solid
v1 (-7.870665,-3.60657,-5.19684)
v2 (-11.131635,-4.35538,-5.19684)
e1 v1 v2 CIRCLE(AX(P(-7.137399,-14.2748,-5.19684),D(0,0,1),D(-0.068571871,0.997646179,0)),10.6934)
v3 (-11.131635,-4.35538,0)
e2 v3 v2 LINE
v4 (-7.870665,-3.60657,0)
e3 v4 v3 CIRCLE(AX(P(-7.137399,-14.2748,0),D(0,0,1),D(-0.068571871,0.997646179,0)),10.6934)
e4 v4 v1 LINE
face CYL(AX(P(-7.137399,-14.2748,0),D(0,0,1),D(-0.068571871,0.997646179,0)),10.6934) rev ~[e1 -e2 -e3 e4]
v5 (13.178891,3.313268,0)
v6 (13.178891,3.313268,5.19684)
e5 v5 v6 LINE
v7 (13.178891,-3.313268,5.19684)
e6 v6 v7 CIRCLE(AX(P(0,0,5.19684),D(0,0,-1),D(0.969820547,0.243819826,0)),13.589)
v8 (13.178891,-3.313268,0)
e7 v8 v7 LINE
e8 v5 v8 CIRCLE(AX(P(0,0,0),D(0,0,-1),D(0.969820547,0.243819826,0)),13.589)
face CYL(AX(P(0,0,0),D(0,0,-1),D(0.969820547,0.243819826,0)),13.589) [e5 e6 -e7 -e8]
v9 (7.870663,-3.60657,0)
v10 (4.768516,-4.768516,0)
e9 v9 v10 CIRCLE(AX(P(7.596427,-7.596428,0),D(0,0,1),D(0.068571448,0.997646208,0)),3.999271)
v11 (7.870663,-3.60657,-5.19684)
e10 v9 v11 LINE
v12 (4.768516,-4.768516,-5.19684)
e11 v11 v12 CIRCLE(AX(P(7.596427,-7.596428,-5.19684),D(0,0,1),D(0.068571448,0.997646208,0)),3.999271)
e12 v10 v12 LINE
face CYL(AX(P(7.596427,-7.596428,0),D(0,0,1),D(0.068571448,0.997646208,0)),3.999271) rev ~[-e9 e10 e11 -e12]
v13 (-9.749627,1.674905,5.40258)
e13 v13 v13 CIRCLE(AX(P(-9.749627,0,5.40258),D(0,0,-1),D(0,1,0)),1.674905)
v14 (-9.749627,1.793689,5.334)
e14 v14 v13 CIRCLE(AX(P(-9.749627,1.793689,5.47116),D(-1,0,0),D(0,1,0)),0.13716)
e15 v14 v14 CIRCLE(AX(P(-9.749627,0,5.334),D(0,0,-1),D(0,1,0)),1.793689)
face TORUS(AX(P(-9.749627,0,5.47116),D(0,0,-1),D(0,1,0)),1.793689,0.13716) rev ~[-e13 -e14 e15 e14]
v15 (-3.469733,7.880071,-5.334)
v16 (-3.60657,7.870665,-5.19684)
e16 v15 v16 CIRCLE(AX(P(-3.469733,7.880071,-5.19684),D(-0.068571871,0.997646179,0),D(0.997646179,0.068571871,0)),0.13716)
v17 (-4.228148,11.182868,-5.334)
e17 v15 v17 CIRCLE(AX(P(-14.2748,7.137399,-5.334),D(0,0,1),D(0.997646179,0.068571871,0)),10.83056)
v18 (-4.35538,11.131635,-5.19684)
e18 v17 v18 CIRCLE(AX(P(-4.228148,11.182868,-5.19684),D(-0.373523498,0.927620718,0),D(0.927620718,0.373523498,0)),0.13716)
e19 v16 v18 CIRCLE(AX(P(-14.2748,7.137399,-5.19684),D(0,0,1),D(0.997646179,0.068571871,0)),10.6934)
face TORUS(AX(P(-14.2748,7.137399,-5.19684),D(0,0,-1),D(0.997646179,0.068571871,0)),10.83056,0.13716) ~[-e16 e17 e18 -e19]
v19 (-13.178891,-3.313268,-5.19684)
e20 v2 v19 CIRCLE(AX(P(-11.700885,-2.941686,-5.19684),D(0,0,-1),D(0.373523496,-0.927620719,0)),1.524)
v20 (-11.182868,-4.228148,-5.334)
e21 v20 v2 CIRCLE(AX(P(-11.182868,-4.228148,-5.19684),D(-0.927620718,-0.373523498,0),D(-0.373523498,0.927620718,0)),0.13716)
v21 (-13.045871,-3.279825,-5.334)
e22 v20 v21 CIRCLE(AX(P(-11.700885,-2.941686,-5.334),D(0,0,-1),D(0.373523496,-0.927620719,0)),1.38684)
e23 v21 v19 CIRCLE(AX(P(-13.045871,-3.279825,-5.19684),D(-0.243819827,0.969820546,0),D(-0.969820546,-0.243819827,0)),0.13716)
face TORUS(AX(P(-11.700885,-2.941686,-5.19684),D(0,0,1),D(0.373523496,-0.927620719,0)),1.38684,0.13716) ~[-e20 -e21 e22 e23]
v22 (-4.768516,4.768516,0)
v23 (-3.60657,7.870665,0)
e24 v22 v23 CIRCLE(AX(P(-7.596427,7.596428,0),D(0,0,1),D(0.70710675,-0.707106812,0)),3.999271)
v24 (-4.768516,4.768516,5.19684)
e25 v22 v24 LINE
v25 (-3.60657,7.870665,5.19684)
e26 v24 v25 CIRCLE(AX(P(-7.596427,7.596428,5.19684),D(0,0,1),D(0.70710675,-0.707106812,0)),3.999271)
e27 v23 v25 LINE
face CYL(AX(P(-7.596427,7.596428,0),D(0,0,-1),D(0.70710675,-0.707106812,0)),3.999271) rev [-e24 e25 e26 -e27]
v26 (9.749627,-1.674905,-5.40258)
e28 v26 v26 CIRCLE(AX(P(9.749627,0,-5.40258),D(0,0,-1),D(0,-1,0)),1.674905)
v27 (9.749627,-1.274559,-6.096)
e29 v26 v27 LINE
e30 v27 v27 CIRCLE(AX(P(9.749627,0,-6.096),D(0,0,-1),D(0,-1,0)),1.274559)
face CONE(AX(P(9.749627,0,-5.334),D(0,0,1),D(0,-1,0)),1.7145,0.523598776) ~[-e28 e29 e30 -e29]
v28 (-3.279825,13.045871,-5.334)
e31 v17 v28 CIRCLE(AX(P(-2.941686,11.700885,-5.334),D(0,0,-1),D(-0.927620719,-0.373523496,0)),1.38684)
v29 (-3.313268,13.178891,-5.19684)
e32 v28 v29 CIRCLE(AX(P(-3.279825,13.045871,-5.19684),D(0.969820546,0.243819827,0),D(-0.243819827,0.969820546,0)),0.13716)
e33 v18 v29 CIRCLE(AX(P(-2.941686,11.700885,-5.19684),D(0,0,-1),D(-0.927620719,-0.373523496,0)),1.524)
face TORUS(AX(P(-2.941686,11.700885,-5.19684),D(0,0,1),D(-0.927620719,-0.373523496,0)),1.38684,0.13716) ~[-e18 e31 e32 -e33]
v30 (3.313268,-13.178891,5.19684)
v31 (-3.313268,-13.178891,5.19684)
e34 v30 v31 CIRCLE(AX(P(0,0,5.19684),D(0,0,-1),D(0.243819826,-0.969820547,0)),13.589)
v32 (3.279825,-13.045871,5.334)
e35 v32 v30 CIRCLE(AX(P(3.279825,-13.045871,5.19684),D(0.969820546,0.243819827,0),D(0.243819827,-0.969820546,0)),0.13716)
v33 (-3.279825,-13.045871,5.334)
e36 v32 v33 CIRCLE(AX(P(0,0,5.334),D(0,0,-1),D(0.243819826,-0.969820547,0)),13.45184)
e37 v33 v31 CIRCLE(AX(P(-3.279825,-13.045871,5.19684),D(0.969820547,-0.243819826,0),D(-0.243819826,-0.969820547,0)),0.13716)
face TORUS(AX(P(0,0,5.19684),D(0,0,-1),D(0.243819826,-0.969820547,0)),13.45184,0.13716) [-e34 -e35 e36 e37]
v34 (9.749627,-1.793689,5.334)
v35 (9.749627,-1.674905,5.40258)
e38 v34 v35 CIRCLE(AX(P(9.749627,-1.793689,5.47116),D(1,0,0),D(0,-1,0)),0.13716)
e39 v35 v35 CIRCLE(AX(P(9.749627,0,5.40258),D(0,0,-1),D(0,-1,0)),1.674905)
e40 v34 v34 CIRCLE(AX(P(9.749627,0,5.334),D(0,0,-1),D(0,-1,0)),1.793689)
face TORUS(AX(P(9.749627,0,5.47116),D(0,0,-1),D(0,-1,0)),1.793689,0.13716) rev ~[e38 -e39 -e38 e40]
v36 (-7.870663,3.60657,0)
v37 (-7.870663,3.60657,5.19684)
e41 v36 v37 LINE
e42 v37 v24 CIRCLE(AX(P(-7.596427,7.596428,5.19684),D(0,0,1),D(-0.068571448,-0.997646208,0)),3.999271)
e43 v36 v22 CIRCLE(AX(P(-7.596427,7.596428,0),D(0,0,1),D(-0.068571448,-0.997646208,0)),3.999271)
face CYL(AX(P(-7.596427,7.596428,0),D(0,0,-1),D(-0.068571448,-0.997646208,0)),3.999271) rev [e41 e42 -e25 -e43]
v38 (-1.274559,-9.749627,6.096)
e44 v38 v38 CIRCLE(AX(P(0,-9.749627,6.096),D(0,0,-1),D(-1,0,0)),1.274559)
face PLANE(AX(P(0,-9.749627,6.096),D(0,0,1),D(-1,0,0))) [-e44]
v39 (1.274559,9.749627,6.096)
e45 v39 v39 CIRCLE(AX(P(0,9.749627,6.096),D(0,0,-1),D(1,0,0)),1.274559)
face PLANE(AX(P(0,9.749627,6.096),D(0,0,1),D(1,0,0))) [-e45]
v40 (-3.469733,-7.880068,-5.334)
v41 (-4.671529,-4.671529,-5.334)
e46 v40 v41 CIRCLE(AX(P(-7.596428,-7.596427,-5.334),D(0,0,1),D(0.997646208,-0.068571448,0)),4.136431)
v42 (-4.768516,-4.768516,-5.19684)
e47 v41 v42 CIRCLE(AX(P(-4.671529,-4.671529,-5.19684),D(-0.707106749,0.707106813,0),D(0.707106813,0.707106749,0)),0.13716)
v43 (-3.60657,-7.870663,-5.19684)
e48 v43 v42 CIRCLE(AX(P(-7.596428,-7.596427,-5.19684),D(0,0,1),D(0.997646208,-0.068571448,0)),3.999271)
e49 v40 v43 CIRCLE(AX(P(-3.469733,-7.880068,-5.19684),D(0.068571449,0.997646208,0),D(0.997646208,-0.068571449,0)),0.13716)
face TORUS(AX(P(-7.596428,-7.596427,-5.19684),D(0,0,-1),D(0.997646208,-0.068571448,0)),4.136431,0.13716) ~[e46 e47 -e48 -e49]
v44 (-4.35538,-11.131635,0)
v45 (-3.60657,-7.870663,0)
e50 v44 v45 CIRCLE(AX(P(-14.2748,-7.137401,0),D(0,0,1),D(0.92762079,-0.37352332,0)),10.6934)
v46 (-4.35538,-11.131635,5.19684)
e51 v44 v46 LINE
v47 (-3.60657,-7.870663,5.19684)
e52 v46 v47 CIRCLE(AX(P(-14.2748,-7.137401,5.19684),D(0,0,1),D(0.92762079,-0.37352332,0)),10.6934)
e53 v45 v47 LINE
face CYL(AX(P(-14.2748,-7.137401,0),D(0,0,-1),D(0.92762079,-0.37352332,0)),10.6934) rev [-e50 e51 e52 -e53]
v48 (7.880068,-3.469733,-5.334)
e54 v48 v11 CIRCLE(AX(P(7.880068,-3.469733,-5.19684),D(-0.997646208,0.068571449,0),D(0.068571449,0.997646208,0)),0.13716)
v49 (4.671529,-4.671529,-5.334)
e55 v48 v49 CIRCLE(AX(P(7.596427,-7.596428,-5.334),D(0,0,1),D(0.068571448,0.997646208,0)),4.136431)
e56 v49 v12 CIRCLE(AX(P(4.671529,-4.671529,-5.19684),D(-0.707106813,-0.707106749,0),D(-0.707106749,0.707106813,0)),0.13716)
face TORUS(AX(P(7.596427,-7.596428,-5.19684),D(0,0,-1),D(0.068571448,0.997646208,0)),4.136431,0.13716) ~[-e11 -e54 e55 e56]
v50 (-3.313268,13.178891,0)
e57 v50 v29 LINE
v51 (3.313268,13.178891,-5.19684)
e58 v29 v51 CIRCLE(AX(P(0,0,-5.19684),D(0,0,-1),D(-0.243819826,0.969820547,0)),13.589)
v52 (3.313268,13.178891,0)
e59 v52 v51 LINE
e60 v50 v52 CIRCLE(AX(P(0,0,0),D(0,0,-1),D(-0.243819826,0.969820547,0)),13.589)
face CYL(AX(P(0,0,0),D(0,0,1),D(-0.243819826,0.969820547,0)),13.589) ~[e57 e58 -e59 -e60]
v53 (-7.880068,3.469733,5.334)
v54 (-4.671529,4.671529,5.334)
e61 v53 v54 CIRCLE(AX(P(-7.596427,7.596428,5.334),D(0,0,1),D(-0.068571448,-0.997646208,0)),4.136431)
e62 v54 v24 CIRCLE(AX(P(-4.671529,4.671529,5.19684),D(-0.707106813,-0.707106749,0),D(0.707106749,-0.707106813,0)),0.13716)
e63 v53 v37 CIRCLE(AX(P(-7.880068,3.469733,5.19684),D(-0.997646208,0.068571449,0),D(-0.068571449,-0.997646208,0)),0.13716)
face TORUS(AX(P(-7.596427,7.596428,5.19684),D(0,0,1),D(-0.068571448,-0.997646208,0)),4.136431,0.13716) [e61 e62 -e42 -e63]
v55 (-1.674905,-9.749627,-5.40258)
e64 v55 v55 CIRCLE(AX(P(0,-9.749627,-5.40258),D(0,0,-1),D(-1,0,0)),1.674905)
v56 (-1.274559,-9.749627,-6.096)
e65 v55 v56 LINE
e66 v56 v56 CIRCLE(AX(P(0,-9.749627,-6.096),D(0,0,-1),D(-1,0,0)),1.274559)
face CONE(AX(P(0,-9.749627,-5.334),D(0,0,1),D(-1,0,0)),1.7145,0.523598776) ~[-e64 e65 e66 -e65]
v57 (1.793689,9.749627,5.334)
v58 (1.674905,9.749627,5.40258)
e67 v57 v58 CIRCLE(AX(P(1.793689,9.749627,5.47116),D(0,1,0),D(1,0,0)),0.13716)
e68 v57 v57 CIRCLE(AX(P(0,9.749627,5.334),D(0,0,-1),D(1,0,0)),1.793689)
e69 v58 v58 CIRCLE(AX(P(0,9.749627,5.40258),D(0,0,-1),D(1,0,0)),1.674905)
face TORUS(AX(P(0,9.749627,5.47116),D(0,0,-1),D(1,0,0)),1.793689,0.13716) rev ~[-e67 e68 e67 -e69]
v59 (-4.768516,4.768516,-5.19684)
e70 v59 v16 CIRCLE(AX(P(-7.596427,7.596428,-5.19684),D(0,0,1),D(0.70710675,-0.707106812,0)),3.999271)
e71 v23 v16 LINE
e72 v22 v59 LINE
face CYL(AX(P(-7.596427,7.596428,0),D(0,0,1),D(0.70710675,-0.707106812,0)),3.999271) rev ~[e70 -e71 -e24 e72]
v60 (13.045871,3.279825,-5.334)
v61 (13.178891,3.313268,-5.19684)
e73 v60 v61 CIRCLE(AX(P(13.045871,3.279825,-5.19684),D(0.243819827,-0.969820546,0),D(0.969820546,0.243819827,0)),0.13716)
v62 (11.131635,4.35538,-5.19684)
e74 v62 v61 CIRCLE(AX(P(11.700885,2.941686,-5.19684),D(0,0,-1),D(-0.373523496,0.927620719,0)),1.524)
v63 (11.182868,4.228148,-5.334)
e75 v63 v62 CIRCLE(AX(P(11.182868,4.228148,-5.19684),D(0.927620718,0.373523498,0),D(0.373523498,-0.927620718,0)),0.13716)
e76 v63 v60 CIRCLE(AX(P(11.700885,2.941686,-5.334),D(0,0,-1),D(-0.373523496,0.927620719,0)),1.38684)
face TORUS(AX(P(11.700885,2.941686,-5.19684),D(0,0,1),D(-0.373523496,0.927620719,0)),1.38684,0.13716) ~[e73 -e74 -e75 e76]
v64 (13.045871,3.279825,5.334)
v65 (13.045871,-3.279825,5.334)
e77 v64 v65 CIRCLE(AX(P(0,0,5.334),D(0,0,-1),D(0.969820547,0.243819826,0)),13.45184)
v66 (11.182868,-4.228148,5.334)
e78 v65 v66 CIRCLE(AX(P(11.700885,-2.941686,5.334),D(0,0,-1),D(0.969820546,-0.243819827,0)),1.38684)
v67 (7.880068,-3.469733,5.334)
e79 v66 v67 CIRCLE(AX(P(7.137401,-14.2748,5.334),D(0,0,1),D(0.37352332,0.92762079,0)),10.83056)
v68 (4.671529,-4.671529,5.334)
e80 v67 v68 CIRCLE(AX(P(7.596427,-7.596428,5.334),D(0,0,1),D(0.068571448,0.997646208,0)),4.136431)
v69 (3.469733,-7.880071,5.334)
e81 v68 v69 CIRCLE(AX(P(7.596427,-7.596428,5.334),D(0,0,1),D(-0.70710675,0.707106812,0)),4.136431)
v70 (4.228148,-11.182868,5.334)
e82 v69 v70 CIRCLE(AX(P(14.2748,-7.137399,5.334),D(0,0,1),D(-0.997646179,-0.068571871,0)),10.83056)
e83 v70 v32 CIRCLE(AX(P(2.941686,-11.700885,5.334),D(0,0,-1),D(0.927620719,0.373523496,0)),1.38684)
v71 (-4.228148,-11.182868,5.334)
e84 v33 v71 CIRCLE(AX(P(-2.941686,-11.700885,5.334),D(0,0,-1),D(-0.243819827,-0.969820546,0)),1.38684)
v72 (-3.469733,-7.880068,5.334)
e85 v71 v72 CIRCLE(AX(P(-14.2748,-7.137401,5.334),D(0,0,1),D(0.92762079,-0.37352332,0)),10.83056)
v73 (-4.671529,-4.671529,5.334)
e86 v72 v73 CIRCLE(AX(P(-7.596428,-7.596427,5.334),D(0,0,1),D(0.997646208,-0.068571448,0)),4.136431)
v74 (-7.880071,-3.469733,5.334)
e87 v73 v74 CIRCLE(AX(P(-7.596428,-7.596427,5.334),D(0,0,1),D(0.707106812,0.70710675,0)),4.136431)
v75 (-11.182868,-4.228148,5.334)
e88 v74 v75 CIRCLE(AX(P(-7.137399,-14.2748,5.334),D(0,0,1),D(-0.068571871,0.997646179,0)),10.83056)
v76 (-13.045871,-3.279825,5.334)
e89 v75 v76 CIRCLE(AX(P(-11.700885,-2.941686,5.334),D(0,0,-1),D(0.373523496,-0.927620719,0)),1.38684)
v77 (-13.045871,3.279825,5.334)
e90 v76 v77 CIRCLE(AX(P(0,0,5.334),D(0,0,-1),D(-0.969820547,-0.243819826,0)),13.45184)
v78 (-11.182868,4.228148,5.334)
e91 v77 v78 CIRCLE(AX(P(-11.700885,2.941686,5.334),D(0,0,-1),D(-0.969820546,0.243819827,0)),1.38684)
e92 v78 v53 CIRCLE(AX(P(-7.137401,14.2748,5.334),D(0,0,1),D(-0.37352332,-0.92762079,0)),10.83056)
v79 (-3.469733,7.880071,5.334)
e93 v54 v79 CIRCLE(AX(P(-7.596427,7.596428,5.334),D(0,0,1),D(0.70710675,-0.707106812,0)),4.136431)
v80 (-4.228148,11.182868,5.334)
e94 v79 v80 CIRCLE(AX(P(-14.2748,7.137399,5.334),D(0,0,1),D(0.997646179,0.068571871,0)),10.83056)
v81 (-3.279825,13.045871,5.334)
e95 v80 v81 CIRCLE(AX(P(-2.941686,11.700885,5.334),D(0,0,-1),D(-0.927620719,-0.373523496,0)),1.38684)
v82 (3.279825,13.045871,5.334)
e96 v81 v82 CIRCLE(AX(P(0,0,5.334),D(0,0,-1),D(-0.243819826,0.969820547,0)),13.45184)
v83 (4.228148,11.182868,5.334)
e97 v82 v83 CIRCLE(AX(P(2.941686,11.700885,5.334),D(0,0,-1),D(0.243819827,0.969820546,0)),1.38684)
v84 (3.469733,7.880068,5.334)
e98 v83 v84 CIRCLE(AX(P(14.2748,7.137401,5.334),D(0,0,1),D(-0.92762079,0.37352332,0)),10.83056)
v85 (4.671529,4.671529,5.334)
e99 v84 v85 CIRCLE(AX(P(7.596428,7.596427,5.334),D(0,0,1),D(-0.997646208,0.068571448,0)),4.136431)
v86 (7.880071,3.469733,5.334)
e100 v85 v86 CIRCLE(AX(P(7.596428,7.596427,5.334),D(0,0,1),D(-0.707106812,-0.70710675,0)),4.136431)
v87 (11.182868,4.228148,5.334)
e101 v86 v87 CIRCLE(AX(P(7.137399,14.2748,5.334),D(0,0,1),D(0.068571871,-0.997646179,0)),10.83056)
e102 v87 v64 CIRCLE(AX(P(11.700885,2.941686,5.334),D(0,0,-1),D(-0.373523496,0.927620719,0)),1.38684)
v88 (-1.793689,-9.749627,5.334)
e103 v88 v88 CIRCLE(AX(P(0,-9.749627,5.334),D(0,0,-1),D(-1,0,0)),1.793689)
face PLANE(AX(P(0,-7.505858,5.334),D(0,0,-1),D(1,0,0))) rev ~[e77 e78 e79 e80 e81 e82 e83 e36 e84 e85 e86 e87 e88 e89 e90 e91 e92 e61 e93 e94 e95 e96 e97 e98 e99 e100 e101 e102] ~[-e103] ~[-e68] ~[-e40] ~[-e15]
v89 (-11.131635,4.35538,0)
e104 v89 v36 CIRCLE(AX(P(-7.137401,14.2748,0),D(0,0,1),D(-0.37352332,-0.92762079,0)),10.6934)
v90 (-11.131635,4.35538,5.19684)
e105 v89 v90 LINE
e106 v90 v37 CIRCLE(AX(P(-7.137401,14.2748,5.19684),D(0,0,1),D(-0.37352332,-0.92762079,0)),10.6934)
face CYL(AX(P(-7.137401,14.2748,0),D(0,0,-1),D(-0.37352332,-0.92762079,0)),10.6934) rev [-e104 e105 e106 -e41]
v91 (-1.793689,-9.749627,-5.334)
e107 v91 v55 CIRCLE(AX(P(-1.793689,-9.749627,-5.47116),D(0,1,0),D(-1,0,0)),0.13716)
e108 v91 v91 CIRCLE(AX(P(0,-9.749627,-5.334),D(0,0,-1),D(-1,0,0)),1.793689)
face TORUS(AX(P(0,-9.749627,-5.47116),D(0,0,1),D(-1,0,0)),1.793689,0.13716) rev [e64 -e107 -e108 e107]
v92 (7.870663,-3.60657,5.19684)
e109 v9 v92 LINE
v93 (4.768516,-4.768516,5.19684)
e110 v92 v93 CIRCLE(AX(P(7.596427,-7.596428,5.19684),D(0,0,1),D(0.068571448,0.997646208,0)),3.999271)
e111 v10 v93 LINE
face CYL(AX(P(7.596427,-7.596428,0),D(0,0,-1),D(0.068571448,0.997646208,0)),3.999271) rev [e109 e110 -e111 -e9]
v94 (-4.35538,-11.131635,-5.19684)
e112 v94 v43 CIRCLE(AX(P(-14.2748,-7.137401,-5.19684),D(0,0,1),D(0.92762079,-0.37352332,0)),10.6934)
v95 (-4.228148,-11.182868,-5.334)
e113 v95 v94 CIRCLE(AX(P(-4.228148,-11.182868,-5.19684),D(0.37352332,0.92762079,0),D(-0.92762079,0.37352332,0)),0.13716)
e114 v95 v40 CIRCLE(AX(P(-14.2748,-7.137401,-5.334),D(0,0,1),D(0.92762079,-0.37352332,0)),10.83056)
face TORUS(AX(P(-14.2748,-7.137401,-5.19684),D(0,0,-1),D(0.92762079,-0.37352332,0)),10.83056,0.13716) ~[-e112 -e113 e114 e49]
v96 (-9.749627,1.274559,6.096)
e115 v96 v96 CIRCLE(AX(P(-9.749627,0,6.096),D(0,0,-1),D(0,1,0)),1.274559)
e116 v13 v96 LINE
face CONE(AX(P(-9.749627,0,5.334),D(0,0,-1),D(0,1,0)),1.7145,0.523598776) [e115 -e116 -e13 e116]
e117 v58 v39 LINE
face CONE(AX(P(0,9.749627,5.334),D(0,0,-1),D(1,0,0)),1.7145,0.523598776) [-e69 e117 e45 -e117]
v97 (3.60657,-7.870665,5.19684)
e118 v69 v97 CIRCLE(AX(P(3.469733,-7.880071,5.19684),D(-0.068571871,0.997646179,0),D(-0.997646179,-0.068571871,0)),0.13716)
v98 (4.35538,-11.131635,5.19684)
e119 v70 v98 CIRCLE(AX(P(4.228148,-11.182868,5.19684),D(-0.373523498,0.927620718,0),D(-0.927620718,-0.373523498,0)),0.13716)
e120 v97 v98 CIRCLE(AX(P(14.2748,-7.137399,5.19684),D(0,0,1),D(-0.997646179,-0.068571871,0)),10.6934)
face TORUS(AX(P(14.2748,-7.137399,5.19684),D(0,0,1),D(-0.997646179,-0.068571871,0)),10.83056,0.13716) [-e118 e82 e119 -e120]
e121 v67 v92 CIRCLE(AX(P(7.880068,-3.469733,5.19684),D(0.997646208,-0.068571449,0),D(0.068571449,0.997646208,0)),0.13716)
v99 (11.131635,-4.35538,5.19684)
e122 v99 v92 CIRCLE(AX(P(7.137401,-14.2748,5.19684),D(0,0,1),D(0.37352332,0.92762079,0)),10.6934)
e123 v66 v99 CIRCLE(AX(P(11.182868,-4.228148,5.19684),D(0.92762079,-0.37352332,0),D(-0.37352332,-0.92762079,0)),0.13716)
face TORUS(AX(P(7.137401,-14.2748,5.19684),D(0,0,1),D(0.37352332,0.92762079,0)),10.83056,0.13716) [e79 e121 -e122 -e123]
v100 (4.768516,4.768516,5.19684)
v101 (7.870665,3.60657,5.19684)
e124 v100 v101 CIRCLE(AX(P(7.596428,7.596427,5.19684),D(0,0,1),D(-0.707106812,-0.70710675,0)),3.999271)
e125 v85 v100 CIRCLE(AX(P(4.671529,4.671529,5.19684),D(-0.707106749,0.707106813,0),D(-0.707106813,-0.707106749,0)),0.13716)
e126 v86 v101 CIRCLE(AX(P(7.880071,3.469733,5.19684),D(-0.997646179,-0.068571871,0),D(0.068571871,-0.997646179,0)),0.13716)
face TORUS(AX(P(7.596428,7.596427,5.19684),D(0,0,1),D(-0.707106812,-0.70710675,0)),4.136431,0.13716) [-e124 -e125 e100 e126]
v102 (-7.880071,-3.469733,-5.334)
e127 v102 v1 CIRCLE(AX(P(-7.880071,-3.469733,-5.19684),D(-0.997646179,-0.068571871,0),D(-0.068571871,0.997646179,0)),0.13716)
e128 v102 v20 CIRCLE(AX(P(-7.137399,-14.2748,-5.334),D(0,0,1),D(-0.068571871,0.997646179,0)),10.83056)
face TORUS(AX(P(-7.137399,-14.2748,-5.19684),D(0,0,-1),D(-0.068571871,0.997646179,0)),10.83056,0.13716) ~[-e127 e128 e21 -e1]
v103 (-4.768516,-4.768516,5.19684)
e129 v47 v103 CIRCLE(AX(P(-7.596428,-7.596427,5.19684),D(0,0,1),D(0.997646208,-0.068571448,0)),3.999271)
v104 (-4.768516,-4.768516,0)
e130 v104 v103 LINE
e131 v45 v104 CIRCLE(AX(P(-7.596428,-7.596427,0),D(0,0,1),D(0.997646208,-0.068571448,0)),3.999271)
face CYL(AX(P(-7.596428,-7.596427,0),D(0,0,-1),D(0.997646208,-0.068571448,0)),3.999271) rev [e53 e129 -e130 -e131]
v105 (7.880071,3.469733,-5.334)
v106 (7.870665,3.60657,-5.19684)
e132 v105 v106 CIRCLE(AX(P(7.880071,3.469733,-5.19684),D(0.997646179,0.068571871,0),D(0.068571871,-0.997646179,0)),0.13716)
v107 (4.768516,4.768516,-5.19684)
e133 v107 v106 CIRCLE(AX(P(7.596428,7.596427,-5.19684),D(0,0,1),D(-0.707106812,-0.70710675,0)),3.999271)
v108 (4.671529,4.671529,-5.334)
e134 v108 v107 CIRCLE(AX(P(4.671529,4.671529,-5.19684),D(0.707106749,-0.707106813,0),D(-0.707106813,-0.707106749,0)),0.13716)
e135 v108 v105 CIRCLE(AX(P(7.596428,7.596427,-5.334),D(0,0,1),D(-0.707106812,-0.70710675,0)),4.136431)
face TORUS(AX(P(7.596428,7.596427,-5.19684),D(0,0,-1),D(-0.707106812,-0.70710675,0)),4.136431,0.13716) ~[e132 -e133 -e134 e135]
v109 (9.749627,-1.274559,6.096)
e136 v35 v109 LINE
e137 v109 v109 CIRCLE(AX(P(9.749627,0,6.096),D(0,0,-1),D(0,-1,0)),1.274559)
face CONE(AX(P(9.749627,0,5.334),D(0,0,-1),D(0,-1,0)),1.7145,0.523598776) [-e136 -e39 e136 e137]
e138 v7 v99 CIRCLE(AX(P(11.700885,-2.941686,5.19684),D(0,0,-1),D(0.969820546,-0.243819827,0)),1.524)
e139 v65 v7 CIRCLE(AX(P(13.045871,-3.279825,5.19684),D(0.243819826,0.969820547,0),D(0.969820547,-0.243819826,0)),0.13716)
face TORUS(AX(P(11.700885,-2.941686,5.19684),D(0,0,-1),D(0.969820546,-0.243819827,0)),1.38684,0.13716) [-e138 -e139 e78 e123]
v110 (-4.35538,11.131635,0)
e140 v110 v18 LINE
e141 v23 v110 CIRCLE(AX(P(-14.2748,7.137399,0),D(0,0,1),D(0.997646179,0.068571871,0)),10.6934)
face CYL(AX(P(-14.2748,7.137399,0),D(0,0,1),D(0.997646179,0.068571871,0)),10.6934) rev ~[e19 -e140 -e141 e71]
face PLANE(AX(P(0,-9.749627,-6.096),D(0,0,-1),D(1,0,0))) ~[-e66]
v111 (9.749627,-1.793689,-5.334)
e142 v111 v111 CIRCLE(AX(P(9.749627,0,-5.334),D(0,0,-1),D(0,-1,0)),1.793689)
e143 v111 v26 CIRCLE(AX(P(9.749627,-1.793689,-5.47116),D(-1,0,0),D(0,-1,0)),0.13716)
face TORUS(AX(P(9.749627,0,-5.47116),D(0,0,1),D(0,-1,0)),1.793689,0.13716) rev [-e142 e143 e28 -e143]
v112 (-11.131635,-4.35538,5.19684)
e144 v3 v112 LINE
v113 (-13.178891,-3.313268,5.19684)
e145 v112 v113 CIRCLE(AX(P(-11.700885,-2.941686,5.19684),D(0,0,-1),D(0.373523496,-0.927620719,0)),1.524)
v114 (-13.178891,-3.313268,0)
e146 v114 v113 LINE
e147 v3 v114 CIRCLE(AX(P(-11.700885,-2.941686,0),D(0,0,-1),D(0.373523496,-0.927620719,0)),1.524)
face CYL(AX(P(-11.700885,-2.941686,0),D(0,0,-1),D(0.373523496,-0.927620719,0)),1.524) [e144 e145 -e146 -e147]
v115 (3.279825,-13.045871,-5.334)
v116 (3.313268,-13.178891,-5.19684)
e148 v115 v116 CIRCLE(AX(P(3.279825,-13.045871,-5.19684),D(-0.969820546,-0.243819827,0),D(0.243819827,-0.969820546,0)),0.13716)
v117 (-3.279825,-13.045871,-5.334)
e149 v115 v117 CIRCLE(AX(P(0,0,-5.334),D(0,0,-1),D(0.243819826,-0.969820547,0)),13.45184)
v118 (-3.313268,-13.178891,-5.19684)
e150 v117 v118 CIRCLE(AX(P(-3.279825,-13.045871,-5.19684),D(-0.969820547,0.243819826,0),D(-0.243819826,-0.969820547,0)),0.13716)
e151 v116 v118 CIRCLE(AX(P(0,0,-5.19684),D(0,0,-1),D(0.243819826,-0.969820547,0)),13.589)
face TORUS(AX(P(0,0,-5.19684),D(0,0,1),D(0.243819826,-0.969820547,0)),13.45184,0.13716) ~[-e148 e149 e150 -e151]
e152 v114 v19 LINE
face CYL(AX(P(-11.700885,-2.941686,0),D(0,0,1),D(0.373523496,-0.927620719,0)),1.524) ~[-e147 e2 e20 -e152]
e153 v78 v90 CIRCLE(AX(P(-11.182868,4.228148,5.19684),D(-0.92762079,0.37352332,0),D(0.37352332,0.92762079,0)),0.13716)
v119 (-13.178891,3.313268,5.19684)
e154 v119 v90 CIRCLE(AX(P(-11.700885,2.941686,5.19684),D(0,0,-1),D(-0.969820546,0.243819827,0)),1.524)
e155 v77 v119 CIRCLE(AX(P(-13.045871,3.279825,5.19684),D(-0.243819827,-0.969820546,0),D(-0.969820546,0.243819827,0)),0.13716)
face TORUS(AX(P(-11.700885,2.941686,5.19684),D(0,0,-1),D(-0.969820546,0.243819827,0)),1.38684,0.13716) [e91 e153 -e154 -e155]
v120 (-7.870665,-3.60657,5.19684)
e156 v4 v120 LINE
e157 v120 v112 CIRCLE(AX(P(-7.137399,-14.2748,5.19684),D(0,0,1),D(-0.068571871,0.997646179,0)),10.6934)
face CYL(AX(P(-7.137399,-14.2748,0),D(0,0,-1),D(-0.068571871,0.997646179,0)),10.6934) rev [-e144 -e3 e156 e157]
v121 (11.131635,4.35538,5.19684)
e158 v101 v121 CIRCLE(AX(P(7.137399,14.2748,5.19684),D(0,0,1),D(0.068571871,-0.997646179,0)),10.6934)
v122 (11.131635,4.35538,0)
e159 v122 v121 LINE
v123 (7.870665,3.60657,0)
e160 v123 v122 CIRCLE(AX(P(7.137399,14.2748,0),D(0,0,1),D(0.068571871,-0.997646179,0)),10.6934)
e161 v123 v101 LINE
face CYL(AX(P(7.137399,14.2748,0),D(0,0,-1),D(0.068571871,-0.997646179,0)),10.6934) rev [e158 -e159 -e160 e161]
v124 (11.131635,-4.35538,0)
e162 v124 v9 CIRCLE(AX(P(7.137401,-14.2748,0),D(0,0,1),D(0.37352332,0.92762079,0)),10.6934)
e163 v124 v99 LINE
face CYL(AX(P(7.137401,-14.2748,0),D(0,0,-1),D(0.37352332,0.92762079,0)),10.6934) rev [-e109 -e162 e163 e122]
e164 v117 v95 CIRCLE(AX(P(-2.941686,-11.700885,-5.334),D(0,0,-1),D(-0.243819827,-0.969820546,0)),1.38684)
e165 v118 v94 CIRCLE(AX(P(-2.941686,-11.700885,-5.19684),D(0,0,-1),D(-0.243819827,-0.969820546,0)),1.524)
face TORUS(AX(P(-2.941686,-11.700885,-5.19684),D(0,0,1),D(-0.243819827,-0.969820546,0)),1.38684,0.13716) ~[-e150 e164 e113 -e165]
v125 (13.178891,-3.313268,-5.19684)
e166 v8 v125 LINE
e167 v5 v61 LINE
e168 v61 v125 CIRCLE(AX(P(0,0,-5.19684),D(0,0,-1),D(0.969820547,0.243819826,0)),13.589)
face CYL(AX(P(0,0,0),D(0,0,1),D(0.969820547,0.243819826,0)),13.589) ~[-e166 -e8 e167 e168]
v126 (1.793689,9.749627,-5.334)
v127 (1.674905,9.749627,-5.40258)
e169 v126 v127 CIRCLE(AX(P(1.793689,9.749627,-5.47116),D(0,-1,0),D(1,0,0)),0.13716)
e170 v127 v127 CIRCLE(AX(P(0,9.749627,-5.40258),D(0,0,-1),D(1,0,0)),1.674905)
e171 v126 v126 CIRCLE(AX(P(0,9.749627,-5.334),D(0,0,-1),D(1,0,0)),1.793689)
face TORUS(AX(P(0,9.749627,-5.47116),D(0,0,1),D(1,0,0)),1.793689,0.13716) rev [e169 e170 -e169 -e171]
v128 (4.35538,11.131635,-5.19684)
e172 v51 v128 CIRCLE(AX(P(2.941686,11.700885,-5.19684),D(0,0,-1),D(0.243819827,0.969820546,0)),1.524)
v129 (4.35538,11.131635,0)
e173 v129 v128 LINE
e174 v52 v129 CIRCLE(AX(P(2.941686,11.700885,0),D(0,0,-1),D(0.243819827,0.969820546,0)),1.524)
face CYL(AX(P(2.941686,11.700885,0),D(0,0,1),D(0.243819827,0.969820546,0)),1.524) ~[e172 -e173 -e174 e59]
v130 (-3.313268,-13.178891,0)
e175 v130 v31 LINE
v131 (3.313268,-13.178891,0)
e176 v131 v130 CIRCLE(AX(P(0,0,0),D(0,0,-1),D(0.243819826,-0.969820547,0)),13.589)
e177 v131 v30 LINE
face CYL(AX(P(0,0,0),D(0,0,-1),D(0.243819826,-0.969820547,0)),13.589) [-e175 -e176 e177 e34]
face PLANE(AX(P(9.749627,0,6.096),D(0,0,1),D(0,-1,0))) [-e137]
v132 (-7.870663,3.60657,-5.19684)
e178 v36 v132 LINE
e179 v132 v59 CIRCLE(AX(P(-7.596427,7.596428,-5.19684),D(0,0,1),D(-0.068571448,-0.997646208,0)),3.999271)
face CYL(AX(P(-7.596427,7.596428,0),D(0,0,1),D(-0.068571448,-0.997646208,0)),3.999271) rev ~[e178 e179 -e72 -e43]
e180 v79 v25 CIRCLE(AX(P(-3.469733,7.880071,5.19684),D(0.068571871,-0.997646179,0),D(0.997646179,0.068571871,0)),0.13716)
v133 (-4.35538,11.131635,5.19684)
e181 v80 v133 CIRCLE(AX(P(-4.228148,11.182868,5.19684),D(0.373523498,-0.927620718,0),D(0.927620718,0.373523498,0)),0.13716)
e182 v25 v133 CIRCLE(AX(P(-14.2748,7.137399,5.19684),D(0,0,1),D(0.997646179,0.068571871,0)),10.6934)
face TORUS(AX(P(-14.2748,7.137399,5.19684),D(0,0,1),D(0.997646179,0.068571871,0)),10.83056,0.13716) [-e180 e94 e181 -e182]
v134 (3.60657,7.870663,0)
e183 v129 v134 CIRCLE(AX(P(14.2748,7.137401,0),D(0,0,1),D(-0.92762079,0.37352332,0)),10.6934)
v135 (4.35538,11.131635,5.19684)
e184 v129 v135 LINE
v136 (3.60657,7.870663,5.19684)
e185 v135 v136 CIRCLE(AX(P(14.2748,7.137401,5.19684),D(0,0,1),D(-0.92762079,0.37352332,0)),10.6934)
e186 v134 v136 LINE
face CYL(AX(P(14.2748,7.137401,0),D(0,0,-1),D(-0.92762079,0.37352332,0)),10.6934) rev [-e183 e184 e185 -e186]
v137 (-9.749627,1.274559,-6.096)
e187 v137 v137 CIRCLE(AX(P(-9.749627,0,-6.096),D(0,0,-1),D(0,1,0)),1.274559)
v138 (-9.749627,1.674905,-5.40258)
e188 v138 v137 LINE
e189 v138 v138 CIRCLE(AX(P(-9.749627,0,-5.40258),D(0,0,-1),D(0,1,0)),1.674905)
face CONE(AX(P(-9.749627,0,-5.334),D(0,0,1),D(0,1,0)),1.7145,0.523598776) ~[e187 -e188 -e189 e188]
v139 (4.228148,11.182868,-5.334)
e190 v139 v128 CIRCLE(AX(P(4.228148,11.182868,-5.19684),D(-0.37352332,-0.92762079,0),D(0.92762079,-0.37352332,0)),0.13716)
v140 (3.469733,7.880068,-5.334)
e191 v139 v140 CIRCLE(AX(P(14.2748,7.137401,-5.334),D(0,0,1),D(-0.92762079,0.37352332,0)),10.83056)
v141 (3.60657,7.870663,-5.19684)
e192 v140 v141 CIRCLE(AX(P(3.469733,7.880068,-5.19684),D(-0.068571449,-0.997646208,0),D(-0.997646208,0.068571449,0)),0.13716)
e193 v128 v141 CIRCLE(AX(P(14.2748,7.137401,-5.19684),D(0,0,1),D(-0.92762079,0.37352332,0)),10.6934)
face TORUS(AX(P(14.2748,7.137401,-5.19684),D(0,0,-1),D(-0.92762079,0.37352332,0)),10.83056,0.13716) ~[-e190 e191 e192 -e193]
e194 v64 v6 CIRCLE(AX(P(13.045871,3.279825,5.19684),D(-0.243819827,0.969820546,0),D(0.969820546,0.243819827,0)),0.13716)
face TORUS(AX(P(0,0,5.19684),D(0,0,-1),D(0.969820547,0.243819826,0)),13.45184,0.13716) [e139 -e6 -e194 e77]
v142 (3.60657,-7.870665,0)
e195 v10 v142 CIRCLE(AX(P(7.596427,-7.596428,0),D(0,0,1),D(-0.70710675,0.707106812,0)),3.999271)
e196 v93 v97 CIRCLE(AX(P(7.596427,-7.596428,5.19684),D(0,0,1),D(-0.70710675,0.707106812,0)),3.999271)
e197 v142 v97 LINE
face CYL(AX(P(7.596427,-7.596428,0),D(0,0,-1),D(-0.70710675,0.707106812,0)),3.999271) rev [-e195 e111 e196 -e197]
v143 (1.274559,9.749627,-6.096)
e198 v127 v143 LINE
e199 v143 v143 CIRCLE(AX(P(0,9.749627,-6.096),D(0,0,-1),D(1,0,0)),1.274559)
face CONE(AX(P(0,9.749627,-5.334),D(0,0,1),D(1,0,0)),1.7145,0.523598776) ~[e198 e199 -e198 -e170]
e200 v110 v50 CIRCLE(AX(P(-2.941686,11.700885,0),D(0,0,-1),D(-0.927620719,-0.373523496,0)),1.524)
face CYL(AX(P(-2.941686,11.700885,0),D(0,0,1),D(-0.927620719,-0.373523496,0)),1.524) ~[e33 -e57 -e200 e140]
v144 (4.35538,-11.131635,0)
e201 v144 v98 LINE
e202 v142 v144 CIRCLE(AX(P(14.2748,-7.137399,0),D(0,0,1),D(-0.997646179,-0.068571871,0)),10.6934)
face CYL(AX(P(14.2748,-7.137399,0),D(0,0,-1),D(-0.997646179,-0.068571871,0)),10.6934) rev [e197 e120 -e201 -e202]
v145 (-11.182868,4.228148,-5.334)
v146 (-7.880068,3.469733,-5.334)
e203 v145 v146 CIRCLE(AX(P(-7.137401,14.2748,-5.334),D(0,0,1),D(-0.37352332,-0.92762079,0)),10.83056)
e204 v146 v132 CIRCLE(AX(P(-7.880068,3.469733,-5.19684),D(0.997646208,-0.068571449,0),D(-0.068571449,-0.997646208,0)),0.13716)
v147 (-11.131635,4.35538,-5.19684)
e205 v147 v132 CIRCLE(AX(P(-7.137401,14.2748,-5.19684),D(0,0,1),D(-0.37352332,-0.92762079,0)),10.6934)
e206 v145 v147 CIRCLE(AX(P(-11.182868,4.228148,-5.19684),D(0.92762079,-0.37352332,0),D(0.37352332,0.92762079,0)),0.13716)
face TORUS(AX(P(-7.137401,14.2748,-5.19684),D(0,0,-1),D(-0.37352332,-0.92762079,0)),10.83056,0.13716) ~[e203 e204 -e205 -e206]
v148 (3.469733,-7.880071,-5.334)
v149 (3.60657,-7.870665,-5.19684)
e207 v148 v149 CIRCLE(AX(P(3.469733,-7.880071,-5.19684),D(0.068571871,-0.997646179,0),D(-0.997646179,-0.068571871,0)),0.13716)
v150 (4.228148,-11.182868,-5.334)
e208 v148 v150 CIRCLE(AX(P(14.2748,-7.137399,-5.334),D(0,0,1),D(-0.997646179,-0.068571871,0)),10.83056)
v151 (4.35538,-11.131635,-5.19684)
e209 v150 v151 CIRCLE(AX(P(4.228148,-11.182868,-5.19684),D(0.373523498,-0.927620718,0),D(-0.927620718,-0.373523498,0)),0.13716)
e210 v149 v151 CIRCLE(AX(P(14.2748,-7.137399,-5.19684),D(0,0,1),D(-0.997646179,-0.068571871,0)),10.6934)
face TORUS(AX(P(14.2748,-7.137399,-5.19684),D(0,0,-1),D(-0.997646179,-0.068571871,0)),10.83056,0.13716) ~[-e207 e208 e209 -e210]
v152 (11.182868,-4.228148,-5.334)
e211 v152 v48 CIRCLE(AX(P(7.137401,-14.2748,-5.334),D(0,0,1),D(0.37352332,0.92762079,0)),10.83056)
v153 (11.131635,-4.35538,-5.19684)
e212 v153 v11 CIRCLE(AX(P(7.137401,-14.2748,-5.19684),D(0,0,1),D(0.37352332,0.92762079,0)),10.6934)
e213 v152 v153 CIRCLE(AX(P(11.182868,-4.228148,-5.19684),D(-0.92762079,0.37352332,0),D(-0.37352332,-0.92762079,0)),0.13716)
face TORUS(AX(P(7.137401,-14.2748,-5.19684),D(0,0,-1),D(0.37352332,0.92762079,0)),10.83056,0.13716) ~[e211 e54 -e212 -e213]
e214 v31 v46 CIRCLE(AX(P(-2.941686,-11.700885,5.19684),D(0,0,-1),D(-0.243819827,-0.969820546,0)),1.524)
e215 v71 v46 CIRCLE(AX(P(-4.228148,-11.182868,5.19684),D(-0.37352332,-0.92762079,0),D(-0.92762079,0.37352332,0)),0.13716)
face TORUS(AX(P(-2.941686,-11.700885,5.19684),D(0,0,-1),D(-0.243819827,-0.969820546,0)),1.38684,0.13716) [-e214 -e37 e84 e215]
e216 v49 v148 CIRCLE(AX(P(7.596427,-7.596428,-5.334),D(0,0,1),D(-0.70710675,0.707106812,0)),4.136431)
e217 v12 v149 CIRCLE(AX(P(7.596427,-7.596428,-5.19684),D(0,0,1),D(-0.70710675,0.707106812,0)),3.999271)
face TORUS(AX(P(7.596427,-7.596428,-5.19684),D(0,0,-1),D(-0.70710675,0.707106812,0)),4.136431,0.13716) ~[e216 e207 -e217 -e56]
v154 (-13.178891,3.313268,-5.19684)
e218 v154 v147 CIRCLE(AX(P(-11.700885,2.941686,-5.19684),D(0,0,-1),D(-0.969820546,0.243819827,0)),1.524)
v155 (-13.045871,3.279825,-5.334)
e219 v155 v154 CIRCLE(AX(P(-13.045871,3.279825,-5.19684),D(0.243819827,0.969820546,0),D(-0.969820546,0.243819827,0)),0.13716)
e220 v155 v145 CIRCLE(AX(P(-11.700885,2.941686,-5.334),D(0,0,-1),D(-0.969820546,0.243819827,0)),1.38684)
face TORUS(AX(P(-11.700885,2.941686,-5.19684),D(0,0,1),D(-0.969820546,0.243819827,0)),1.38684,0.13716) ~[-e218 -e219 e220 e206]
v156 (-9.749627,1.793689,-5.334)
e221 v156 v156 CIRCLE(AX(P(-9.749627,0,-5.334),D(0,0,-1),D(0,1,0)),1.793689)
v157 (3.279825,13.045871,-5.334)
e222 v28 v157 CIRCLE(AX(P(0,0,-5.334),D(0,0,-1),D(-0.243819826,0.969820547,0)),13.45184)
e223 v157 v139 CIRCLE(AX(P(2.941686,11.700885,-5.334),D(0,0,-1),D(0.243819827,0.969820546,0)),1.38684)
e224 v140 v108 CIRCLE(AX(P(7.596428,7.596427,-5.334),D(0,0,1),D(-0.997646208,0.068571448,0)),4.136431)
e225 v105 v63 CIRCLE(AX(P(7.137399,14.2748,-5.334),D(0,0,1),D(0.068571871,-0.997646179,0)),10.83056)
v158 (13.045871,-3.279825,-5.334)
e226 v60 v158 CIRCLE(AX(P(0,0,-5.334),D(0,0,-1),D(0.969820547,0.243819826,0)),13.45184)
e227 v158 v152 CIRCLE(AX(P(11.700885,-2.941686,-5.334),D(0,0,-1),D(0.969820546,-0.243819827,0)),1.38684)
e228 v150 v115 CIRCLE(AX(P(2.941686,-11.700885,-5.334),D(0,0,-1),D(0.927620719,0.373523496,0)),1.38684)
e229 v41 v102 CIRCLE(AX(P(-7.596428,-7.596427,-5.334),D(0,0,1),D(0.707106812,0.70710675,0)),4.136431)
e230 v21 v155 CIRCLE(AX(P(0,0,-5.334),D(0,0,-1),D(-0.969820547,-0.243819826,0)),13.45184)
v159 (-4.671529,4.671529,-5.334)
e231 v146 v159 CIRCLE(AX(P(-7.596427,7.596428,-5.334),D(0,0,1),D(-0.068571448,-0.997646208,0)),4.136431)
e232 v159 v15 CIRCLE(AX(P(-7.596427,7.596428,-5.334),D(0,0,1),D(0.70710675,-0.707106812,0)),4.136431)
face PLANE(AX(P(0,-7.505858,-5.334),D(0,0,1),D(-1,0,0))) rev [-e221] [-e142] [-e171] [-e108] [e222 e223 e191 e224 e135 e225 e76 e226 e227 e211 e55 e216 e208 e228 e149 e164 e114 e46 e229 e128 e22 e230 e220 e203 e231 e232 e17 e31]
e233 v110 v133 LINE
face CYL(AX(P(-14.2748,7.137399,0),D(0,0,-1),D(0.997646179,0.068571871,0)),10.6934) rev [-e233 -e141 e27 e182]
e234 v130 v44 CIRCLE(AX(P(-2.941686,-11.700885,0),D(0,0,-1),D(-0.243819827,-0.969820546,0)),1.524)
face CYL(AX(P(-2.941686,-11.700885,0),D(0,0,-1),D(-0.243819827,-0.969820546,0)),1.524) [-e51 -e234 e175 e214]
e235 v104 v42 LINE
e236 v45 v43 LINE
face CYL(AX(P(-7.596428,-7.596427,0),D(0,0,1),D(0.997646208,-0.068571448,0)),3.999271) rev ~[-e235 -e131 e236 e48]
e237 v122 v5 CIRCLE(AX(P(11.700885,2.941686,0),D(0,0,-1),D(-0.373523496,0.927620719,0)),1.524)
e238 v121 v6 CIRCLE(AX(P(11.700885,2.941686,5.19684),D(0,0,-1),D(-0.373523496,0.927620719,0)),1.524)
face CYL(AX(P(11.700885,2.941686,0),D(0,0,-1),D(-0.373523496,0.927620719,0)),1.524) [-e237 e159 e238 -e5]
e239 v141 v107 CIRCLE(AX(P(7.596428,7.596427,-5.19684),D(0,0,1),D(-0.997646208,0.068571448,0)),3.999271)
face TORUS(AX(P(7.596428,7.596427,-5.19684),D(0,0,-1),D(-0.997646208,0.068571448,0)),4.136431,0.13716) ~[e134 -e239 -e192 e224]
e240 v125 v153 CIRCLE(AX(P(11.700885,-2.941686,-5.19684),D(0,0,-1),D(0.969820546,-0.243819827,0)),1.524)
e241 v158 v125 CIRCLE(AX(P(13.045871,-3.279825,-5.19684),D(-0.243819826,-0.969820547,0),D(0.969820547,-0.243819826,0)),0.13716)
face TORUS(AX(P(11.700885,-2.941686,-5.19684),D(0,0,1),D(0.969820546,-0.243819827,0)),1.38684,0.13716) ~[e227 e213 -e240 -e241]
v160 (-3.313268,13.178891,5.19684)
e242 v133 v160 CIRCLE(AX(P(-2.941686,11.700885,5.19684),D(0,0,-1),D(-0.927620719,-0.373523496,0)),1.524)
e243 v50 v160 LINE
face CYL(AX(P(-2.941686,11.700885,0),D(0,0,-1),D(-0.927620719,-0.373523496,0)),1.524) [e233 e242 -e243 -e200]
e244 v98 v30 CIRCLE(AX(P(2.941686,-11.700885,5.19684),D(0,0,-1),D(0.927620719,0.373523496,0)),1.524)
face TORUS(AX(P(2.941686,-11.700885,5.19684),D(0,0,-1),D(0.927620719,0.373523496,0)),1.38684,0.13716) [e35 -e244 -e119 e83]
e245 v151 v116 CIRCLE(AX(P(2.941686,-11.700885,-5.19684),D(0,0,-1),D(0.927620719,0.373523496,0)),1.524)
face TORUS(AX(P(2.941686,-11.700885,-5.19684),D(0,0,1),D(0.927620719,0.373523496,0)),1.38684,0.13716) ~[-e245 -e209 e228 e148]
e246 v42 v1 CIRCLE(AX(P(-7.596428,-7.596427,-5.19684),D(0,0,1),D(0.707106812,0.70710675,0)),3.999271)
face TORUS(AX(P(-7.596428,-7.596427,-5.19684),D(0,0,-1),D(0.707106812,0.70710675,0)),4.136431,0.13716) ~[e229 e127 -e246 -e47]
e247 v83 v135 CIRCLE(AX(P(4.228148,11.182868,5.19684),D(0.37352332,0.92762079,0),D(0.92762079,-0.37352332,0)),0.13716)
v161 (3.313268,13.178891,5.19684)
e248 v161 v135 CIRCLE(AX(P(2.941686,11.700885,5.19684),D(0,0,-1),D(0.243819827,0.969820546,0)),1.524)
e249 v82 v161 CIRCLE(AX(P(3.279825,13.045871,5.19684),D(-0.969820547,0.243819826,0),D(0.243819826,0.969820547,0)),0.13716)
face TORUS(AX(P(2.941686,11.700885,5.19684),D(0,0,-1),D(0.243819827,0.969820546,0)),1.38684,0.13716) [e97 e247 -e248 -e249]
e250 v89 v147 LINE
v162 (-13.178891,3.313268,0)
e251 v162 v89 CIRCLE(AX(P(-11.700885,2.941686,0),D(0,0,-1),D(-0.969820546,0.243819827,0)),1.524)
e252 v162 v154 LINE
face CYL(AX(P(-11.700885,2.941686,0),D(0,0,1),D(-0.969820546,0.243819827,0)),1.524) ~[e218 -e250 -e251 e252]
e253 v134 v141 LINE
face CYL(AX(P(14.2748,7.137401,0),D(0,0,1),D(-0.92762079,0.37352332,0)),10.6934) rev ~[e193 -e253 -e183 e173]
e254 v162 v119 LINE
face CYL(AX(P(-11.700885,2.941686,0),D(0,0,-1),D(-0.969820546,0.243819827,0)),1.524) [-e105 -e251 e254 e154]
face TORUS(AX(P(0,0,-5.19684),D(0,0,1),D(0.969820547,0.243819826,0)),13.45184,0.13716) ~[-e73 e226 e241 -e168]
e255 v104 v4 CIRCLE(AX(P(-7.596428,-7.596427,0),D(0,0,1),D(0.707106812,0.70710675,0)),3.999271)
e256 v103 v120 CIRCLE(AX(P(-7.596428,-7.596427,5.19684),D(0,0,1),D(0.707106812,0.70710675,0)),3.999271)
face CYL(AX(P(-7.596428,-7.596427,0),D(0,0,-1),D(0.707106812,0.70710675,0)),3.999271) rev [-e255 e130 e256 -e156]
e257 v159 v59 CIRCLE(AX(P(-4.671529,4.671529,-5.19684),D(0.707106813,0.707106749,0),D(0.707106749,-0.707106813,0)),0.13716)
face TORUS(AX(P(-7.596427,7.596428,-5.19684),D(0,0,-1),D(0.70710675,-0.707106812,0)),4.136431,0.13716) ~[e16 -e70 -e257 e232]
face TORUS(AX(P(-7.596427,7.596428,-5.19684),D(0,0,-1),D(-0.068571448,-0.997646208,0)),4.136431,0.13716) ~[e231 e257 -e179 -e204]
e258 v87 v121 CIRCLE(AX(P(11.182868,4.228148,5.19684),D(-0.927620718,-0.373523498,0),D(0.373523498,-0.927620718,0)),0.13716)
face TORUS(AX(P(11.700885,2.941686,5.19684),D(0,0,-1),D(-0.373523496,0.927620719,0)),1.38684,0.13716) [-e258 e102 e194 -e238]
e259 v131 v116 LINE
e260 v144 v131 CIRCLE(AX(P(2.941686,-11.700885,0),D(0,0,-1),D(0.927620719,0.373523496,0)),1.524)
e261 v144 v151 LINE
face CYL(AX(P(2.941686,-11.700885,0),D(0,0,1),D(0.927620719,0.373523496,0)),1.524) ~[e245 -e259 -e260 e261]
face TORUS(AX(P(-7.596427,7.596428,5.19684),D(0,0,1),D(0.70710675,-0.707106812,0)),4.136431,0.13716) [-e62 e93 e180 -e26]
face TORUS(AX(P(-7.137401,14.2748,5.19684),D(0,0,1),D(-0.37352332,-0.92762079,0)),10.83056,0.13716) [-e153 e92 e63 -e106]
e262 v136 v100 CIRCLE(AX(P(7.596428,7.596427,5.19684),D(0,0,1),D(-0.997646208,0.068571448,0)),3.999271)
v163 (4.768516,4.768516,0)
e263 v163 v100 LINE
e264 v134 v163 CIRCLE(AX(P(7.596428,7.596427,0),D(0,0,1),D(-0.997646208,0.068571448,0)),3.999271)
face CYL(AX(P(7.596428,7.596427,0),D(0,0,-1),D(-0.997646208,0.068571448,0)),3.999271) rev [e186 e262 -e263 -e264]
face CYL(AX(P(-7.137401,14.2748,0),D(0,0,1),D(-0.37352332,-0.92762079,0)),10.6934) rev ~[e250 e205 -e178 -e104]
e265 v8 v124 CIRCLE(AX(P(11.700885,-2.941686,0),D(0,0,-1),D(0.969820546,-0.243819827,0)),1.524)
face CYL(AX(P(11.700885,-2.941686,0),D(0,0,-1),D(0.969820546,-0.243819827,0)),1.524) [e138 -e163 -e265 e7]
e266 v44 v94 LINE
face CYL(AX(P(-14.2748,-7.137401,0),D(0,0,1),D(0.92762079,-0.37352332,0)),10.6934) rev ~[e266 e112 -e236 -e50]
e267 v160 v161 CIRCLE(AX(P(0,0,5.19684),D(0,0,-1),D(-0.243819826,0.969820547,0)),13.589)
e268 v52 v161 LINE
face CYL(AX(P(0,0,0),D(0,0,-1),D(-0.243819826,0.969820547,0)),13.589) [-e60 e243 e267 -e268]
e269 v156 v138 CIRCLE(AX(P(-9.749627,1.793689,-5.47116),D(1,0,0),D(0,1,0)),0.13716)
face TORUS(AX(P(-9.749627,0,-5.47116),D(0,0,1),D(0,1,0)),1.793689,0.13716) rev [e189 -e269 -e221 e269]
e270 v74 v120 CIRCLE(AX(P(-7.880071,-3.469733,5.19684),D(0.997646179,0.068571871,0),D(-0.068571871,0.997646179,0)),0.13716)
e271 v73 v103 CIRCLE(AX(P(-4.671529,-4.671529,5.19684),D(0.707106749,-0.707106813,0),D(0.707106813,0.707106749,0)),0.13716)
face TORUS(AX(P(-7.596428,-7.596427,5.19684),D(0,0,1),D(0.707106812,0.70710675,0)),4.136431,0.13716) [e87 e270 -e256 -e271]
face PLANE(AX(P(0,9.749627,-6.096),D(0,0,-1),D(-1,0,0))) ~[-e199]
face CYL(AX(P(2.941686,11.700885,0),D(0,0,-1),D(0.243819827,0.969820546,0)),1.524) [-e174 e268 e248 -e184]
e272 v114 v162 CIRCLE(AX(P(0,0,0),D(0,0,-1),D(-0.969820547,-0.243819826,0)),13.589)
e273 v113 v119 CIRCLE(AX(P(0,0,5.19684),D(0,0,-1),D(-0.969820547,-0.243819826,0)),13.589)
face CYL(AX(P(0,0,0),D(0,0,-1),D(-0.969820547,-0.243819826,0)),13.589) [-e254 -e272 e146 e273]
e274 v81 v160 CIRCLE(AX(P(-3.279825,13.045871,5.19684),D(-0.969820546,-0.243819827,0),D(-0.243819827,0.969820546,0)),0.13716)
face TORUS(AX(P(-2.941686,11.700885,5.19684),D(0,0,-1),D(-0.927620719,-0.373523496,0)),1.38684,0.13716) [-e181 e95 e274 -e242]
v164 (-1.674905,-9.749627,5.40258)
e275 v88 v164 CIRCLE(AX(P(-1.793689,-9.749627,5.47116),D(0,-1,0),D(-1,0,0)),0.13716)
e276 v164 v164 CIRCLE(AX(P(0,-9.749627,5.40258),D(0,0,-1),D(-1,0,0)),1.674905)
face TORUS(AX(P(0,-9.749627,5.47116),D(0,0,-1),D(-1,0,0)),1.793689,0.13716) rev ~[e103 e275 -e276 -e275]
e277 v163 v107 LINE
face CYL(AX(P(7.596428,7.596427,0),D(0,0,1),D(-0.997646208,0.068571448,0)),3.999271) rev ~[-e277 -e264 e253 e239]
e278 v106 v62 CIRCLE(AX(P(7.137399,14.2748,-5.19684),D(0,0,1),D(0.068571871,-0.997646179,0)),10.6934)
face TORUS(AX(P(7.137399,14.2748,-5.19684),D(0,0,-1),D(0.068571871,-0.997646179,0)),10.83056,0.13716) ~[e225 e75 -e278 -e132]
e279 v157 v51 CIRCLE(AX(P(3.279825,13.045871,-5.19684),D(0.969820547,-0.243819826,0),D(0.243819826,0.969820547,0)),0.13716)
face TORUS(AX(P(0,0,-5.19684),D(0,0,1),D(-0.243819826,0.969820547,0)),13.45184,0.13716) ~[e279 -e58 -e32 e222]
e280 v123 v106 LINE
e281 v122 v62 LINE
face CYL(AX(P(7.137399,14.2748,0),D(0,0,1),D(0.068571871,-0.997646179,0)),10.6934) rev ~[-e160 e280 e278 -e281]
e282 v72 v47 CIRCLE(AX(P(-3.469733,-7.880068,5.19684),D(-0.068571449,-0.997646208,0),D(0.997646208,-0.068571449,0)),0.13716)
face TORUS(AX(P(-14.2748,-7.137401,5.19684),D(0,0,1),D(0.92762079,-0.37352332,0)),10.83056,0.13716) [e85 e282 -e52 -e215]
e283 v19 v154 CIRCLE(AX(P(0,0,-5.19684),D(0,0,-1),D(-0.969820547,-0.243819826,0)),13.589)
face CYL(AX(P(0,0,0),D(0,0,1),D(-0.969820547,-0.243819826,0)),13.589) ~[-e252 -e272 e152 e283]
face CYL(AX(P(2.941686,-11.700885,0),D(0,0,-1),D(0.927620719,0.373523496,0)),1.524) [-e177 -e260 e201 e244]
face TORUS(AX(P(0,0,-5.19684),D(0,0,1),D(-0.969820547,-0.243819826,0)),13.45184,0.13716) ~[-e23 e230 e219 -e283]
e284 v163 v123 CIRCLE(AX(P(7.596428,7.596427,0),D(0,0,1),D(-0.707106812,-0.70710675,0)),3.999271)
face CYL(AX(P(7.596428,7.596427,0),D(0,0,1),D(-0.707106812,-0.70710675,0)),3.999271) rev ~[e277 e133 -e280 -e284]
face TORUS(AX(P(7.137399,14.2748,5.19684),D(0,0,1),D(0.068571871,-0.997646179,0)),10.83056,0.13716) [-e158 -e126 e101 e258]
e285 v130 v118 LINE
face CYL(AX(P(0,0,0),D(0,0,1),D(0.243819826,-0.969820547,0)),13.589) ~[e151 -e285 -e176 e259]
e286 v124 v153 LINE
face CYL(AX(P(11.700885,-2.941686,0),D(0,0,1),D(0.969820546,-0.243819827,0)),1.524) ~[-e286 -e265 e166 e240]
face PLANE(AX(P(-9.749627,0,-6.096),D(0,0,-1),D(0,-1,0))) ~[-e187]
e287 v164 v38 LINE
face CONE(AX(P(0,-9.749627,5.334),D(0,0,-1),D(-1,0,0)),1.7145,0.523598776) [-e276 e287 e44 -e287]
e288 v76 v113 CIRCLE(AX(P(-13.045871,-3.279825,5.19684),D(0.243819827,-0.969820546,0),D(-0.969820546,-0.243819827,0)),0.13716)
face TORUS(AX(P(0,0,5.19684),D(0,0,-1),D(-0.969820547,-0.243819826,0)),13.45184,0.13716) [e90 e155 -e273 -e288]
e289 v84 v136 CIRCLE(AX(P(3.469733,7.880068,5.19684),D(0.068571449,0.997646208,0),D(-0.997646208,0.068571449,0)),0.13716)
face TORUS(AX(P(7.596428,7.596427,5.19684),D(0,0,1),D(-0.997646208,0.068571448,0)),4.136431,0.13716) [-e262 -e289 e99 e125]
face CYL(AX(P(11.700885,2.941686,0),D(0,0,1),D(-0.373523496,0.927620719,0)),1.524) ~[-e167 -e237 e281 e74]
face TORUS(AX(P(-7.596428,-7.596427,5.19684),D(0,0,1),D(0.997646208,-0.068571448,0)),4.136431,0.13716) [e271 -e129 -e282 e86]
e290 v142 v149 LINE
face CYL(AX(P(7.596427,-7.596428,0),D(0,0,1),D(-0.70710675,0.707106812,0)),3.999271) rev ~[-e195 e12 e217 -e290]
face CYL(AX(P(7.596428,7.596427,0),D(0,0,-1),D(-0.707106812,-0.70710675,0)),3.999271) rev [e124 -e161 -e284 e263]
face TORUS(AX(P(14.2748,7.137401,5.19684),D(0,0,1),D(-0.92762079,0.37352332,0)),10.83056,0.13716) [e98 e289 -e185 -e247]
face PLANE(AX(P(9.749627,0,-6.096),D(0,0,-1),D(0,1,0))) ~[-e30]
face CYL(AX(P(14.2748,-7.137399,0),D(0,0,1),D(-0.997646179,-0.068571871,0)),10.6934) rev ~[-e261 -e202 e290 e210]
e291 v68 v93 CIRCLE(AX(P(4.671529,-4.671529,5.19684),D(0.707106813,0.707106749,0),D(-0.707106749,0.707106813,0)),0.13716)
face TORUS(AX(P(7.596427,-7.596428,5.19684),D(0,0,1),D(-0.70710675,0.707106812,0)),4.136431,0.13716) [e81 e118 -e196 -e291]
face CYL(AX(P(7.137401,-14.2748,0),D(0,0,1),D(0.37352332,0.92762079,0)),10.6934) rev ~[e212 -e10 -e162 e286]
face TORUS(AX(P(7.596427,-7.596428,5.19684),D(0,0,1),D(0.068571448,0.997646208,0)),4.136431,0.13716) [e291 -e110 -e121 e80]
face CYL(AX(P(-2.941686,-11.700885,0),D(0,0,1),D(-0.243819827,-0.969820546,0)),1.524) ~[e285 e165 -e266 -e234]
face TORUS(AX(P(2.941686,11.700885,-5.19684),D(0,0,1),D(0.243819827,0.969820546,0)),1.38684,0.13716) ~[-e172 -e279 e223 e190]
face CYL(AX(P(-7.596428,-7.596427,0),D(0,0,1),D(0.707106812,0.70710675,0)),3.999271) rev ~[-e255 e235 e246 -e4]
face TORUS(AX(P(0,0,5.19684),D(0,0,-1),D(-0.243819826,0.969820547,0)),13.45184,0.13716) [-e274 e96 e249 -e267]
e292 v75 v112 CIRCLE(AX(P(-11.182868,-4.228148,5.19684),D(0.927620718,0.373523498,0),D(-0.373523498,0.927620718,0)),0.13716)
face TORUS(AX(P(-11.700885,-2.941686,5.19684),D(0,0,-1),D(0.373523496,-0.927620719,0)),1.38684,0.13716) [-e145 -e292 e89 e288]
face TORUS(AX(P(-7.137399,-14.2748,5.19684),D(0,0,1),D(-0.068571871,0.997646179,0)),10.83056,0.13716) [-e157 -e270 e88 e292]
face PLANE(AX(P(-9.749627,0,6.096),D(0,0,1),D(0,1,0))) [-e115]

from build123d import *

# Parameters (mm, degrees)
BOSS_EXTRUDE1_DEPTH = 5.334
SKETCH5_R           = 1.7145
BOSS_EXTRUDE3_DEPTH = 0.762
BOSS_EXTRUDE3_TAPER = 30
CIRPATTERN1_COUNT   = 4
FILLET3_R           = 0.13716


with BuildPart() as part:
    # Sketch3 → Boss-Extrude1 (new body)
    with BuildSketch(Plane.XY):
        with BuildLine():
            Line((0, 0), (-4.768515788, 4.768516212))
            ThreePointArc((-4.768515788, 4.768516212), (-3.85125366, 6.193629783), (-3.606569915, 7.870665373))
            ThreePointArc((-3.606569915, 7.870665373), (-3.85264508, 9.530618394), (-4.355380176, 11.131635084))
            ThreePointArc((-4.355380176, 11.131635084), (-4.299852857, 12.392230924), (-3.313267616, 13.178891407))
            ThreePointArc((-3.313267616, 13.178891407), (0, 13.589), (3.313267616, 13.178891407))
            ThreePointArc((3.313267616, 13.178891407), (4.299852791, 12.392231053), (4.355380284, 11.131635354))
            ThreePointArc((4.355380284, 11.131635354), (3.852645214, 9.530617348), (3.606570473, 7.870663004))
            ThreePointArc((3.606570473, 7.870663004), (3.85125457, 6.19362848), (4.768516212, 4.768515788))
            Line((4.768516212, 4.768515788), (0, 0))
        make_face()
    extrude(amount=BOSS_EXTRUDE1_DEPTH)

    # Sketch5 → Boss-Extrude3 (add)
    with BuildSketch(Plane.XY.offset(5.334)):
        with Locations((0, 9.749626986)):
            Circle(SKETCH5_R)
    extrude(amount=BOSS_EXTRUDE3_DEPTH, taper=BOSS_EXTRUDE3_TAPER)


with BuildPart() as cirpattern1_1:
    # CirPattern1: pattern copy
    add(part.part.rotate(Axis((0, 0, 0), (0, 0, 1)), 1 * 360 / CIRPATTERN1_COUNT))


with BuildPart() as cirpattern1_2:
    # CirPattern1: pattern copy
    add(part.part.rotate(Axis((0, 0, 0), (0, 0, 1)), 2 * 360 / CIRPATTERN1_COUNT))


with BuildPart() as cirpattern1_3:
    # CirPattern1: pattern copy
    add(part.part.rotate(Axis((0, 0, 0), (0, 0, 1)), 3 * 360 / CIRPATTERN1_COUNT))


with BuildPart() as cirpattern1_1_1:
    add(cirpattern1_1.part)

    # Combine1: union part, CirPattern1_3, CirPattern1_2
    add(part.part)
    add(cirpattern1_3.part)
    add(cirpattern1_2.part)

    # Fillet3
    fillet3_edges = [cirpattern1_1_1.edges().sort_by_distance(p)[0] for p in [
        (-12.392231053, 4.299852791, 5.334),
        (-13.589, 0, 5.334),
        (-12.392230924, -4.299852857, 5.334),
        (-9.530618394, -3.85264508, 5.334),
        (-4.768516938, -4.768515063, 5.334),
        (-9.749626986, -1.7145, 5.334),
        (-4.768515063, 4.768516938, 5.334),
        (4.768516938, 4.768515063, 5.334),
        (3.852645214, 9.530617348, 5.334),
        (4.299852791, 12.392231053, 5.334),
        (0, 13.589, 5.334),
        (-4.299852857, 12.392230924, 5.334),
        (-3.85264508, 9.530618394, 5.334),
        (-3.852645214, -9.530617348, 5.334),
        (-4.299852791, -12.392231053, 5.334),
        (0, -13.589, 5.334),
        (4.299852857, -12.392230924, 5.334),
        (3.85264508, -9.530618394, 5.334),
        (4.768515063, -4.768516938, 5.334),
        (9.530617348, -3.852645214, 5.334),
        (12.392231053, -4.299852791, 5.334),
        (13.589, 0, 5.334),
        (12.392230924, 4.299852857, 5.334),
        (9.530618394, 3.85264508, 5.334),
        (-1.7145, 9.749626986, 5.334),
        (9.749626986, 1.7145, 5.334),
        (1.7145, -9.749626986, 5.334),
        (-9.530617348, 3.852645214, 5.334),
    ]]
    fillet(fillet3_edges, radius=FILLET3_R)

    # Mirror1: CirPattern1_1 across plane


with BuildPart() as cirpattern1_1_2:
    add(cirpattern1_1_1.part)
    add(cirpattern1_1_1.part.mirror(Plane(origin=(-7.596427209, 7.596427884, 0), x_dir=(1, 0, 0), z_dir=(0, 0, 1))))


solid = cirpattern1_1_2.part
